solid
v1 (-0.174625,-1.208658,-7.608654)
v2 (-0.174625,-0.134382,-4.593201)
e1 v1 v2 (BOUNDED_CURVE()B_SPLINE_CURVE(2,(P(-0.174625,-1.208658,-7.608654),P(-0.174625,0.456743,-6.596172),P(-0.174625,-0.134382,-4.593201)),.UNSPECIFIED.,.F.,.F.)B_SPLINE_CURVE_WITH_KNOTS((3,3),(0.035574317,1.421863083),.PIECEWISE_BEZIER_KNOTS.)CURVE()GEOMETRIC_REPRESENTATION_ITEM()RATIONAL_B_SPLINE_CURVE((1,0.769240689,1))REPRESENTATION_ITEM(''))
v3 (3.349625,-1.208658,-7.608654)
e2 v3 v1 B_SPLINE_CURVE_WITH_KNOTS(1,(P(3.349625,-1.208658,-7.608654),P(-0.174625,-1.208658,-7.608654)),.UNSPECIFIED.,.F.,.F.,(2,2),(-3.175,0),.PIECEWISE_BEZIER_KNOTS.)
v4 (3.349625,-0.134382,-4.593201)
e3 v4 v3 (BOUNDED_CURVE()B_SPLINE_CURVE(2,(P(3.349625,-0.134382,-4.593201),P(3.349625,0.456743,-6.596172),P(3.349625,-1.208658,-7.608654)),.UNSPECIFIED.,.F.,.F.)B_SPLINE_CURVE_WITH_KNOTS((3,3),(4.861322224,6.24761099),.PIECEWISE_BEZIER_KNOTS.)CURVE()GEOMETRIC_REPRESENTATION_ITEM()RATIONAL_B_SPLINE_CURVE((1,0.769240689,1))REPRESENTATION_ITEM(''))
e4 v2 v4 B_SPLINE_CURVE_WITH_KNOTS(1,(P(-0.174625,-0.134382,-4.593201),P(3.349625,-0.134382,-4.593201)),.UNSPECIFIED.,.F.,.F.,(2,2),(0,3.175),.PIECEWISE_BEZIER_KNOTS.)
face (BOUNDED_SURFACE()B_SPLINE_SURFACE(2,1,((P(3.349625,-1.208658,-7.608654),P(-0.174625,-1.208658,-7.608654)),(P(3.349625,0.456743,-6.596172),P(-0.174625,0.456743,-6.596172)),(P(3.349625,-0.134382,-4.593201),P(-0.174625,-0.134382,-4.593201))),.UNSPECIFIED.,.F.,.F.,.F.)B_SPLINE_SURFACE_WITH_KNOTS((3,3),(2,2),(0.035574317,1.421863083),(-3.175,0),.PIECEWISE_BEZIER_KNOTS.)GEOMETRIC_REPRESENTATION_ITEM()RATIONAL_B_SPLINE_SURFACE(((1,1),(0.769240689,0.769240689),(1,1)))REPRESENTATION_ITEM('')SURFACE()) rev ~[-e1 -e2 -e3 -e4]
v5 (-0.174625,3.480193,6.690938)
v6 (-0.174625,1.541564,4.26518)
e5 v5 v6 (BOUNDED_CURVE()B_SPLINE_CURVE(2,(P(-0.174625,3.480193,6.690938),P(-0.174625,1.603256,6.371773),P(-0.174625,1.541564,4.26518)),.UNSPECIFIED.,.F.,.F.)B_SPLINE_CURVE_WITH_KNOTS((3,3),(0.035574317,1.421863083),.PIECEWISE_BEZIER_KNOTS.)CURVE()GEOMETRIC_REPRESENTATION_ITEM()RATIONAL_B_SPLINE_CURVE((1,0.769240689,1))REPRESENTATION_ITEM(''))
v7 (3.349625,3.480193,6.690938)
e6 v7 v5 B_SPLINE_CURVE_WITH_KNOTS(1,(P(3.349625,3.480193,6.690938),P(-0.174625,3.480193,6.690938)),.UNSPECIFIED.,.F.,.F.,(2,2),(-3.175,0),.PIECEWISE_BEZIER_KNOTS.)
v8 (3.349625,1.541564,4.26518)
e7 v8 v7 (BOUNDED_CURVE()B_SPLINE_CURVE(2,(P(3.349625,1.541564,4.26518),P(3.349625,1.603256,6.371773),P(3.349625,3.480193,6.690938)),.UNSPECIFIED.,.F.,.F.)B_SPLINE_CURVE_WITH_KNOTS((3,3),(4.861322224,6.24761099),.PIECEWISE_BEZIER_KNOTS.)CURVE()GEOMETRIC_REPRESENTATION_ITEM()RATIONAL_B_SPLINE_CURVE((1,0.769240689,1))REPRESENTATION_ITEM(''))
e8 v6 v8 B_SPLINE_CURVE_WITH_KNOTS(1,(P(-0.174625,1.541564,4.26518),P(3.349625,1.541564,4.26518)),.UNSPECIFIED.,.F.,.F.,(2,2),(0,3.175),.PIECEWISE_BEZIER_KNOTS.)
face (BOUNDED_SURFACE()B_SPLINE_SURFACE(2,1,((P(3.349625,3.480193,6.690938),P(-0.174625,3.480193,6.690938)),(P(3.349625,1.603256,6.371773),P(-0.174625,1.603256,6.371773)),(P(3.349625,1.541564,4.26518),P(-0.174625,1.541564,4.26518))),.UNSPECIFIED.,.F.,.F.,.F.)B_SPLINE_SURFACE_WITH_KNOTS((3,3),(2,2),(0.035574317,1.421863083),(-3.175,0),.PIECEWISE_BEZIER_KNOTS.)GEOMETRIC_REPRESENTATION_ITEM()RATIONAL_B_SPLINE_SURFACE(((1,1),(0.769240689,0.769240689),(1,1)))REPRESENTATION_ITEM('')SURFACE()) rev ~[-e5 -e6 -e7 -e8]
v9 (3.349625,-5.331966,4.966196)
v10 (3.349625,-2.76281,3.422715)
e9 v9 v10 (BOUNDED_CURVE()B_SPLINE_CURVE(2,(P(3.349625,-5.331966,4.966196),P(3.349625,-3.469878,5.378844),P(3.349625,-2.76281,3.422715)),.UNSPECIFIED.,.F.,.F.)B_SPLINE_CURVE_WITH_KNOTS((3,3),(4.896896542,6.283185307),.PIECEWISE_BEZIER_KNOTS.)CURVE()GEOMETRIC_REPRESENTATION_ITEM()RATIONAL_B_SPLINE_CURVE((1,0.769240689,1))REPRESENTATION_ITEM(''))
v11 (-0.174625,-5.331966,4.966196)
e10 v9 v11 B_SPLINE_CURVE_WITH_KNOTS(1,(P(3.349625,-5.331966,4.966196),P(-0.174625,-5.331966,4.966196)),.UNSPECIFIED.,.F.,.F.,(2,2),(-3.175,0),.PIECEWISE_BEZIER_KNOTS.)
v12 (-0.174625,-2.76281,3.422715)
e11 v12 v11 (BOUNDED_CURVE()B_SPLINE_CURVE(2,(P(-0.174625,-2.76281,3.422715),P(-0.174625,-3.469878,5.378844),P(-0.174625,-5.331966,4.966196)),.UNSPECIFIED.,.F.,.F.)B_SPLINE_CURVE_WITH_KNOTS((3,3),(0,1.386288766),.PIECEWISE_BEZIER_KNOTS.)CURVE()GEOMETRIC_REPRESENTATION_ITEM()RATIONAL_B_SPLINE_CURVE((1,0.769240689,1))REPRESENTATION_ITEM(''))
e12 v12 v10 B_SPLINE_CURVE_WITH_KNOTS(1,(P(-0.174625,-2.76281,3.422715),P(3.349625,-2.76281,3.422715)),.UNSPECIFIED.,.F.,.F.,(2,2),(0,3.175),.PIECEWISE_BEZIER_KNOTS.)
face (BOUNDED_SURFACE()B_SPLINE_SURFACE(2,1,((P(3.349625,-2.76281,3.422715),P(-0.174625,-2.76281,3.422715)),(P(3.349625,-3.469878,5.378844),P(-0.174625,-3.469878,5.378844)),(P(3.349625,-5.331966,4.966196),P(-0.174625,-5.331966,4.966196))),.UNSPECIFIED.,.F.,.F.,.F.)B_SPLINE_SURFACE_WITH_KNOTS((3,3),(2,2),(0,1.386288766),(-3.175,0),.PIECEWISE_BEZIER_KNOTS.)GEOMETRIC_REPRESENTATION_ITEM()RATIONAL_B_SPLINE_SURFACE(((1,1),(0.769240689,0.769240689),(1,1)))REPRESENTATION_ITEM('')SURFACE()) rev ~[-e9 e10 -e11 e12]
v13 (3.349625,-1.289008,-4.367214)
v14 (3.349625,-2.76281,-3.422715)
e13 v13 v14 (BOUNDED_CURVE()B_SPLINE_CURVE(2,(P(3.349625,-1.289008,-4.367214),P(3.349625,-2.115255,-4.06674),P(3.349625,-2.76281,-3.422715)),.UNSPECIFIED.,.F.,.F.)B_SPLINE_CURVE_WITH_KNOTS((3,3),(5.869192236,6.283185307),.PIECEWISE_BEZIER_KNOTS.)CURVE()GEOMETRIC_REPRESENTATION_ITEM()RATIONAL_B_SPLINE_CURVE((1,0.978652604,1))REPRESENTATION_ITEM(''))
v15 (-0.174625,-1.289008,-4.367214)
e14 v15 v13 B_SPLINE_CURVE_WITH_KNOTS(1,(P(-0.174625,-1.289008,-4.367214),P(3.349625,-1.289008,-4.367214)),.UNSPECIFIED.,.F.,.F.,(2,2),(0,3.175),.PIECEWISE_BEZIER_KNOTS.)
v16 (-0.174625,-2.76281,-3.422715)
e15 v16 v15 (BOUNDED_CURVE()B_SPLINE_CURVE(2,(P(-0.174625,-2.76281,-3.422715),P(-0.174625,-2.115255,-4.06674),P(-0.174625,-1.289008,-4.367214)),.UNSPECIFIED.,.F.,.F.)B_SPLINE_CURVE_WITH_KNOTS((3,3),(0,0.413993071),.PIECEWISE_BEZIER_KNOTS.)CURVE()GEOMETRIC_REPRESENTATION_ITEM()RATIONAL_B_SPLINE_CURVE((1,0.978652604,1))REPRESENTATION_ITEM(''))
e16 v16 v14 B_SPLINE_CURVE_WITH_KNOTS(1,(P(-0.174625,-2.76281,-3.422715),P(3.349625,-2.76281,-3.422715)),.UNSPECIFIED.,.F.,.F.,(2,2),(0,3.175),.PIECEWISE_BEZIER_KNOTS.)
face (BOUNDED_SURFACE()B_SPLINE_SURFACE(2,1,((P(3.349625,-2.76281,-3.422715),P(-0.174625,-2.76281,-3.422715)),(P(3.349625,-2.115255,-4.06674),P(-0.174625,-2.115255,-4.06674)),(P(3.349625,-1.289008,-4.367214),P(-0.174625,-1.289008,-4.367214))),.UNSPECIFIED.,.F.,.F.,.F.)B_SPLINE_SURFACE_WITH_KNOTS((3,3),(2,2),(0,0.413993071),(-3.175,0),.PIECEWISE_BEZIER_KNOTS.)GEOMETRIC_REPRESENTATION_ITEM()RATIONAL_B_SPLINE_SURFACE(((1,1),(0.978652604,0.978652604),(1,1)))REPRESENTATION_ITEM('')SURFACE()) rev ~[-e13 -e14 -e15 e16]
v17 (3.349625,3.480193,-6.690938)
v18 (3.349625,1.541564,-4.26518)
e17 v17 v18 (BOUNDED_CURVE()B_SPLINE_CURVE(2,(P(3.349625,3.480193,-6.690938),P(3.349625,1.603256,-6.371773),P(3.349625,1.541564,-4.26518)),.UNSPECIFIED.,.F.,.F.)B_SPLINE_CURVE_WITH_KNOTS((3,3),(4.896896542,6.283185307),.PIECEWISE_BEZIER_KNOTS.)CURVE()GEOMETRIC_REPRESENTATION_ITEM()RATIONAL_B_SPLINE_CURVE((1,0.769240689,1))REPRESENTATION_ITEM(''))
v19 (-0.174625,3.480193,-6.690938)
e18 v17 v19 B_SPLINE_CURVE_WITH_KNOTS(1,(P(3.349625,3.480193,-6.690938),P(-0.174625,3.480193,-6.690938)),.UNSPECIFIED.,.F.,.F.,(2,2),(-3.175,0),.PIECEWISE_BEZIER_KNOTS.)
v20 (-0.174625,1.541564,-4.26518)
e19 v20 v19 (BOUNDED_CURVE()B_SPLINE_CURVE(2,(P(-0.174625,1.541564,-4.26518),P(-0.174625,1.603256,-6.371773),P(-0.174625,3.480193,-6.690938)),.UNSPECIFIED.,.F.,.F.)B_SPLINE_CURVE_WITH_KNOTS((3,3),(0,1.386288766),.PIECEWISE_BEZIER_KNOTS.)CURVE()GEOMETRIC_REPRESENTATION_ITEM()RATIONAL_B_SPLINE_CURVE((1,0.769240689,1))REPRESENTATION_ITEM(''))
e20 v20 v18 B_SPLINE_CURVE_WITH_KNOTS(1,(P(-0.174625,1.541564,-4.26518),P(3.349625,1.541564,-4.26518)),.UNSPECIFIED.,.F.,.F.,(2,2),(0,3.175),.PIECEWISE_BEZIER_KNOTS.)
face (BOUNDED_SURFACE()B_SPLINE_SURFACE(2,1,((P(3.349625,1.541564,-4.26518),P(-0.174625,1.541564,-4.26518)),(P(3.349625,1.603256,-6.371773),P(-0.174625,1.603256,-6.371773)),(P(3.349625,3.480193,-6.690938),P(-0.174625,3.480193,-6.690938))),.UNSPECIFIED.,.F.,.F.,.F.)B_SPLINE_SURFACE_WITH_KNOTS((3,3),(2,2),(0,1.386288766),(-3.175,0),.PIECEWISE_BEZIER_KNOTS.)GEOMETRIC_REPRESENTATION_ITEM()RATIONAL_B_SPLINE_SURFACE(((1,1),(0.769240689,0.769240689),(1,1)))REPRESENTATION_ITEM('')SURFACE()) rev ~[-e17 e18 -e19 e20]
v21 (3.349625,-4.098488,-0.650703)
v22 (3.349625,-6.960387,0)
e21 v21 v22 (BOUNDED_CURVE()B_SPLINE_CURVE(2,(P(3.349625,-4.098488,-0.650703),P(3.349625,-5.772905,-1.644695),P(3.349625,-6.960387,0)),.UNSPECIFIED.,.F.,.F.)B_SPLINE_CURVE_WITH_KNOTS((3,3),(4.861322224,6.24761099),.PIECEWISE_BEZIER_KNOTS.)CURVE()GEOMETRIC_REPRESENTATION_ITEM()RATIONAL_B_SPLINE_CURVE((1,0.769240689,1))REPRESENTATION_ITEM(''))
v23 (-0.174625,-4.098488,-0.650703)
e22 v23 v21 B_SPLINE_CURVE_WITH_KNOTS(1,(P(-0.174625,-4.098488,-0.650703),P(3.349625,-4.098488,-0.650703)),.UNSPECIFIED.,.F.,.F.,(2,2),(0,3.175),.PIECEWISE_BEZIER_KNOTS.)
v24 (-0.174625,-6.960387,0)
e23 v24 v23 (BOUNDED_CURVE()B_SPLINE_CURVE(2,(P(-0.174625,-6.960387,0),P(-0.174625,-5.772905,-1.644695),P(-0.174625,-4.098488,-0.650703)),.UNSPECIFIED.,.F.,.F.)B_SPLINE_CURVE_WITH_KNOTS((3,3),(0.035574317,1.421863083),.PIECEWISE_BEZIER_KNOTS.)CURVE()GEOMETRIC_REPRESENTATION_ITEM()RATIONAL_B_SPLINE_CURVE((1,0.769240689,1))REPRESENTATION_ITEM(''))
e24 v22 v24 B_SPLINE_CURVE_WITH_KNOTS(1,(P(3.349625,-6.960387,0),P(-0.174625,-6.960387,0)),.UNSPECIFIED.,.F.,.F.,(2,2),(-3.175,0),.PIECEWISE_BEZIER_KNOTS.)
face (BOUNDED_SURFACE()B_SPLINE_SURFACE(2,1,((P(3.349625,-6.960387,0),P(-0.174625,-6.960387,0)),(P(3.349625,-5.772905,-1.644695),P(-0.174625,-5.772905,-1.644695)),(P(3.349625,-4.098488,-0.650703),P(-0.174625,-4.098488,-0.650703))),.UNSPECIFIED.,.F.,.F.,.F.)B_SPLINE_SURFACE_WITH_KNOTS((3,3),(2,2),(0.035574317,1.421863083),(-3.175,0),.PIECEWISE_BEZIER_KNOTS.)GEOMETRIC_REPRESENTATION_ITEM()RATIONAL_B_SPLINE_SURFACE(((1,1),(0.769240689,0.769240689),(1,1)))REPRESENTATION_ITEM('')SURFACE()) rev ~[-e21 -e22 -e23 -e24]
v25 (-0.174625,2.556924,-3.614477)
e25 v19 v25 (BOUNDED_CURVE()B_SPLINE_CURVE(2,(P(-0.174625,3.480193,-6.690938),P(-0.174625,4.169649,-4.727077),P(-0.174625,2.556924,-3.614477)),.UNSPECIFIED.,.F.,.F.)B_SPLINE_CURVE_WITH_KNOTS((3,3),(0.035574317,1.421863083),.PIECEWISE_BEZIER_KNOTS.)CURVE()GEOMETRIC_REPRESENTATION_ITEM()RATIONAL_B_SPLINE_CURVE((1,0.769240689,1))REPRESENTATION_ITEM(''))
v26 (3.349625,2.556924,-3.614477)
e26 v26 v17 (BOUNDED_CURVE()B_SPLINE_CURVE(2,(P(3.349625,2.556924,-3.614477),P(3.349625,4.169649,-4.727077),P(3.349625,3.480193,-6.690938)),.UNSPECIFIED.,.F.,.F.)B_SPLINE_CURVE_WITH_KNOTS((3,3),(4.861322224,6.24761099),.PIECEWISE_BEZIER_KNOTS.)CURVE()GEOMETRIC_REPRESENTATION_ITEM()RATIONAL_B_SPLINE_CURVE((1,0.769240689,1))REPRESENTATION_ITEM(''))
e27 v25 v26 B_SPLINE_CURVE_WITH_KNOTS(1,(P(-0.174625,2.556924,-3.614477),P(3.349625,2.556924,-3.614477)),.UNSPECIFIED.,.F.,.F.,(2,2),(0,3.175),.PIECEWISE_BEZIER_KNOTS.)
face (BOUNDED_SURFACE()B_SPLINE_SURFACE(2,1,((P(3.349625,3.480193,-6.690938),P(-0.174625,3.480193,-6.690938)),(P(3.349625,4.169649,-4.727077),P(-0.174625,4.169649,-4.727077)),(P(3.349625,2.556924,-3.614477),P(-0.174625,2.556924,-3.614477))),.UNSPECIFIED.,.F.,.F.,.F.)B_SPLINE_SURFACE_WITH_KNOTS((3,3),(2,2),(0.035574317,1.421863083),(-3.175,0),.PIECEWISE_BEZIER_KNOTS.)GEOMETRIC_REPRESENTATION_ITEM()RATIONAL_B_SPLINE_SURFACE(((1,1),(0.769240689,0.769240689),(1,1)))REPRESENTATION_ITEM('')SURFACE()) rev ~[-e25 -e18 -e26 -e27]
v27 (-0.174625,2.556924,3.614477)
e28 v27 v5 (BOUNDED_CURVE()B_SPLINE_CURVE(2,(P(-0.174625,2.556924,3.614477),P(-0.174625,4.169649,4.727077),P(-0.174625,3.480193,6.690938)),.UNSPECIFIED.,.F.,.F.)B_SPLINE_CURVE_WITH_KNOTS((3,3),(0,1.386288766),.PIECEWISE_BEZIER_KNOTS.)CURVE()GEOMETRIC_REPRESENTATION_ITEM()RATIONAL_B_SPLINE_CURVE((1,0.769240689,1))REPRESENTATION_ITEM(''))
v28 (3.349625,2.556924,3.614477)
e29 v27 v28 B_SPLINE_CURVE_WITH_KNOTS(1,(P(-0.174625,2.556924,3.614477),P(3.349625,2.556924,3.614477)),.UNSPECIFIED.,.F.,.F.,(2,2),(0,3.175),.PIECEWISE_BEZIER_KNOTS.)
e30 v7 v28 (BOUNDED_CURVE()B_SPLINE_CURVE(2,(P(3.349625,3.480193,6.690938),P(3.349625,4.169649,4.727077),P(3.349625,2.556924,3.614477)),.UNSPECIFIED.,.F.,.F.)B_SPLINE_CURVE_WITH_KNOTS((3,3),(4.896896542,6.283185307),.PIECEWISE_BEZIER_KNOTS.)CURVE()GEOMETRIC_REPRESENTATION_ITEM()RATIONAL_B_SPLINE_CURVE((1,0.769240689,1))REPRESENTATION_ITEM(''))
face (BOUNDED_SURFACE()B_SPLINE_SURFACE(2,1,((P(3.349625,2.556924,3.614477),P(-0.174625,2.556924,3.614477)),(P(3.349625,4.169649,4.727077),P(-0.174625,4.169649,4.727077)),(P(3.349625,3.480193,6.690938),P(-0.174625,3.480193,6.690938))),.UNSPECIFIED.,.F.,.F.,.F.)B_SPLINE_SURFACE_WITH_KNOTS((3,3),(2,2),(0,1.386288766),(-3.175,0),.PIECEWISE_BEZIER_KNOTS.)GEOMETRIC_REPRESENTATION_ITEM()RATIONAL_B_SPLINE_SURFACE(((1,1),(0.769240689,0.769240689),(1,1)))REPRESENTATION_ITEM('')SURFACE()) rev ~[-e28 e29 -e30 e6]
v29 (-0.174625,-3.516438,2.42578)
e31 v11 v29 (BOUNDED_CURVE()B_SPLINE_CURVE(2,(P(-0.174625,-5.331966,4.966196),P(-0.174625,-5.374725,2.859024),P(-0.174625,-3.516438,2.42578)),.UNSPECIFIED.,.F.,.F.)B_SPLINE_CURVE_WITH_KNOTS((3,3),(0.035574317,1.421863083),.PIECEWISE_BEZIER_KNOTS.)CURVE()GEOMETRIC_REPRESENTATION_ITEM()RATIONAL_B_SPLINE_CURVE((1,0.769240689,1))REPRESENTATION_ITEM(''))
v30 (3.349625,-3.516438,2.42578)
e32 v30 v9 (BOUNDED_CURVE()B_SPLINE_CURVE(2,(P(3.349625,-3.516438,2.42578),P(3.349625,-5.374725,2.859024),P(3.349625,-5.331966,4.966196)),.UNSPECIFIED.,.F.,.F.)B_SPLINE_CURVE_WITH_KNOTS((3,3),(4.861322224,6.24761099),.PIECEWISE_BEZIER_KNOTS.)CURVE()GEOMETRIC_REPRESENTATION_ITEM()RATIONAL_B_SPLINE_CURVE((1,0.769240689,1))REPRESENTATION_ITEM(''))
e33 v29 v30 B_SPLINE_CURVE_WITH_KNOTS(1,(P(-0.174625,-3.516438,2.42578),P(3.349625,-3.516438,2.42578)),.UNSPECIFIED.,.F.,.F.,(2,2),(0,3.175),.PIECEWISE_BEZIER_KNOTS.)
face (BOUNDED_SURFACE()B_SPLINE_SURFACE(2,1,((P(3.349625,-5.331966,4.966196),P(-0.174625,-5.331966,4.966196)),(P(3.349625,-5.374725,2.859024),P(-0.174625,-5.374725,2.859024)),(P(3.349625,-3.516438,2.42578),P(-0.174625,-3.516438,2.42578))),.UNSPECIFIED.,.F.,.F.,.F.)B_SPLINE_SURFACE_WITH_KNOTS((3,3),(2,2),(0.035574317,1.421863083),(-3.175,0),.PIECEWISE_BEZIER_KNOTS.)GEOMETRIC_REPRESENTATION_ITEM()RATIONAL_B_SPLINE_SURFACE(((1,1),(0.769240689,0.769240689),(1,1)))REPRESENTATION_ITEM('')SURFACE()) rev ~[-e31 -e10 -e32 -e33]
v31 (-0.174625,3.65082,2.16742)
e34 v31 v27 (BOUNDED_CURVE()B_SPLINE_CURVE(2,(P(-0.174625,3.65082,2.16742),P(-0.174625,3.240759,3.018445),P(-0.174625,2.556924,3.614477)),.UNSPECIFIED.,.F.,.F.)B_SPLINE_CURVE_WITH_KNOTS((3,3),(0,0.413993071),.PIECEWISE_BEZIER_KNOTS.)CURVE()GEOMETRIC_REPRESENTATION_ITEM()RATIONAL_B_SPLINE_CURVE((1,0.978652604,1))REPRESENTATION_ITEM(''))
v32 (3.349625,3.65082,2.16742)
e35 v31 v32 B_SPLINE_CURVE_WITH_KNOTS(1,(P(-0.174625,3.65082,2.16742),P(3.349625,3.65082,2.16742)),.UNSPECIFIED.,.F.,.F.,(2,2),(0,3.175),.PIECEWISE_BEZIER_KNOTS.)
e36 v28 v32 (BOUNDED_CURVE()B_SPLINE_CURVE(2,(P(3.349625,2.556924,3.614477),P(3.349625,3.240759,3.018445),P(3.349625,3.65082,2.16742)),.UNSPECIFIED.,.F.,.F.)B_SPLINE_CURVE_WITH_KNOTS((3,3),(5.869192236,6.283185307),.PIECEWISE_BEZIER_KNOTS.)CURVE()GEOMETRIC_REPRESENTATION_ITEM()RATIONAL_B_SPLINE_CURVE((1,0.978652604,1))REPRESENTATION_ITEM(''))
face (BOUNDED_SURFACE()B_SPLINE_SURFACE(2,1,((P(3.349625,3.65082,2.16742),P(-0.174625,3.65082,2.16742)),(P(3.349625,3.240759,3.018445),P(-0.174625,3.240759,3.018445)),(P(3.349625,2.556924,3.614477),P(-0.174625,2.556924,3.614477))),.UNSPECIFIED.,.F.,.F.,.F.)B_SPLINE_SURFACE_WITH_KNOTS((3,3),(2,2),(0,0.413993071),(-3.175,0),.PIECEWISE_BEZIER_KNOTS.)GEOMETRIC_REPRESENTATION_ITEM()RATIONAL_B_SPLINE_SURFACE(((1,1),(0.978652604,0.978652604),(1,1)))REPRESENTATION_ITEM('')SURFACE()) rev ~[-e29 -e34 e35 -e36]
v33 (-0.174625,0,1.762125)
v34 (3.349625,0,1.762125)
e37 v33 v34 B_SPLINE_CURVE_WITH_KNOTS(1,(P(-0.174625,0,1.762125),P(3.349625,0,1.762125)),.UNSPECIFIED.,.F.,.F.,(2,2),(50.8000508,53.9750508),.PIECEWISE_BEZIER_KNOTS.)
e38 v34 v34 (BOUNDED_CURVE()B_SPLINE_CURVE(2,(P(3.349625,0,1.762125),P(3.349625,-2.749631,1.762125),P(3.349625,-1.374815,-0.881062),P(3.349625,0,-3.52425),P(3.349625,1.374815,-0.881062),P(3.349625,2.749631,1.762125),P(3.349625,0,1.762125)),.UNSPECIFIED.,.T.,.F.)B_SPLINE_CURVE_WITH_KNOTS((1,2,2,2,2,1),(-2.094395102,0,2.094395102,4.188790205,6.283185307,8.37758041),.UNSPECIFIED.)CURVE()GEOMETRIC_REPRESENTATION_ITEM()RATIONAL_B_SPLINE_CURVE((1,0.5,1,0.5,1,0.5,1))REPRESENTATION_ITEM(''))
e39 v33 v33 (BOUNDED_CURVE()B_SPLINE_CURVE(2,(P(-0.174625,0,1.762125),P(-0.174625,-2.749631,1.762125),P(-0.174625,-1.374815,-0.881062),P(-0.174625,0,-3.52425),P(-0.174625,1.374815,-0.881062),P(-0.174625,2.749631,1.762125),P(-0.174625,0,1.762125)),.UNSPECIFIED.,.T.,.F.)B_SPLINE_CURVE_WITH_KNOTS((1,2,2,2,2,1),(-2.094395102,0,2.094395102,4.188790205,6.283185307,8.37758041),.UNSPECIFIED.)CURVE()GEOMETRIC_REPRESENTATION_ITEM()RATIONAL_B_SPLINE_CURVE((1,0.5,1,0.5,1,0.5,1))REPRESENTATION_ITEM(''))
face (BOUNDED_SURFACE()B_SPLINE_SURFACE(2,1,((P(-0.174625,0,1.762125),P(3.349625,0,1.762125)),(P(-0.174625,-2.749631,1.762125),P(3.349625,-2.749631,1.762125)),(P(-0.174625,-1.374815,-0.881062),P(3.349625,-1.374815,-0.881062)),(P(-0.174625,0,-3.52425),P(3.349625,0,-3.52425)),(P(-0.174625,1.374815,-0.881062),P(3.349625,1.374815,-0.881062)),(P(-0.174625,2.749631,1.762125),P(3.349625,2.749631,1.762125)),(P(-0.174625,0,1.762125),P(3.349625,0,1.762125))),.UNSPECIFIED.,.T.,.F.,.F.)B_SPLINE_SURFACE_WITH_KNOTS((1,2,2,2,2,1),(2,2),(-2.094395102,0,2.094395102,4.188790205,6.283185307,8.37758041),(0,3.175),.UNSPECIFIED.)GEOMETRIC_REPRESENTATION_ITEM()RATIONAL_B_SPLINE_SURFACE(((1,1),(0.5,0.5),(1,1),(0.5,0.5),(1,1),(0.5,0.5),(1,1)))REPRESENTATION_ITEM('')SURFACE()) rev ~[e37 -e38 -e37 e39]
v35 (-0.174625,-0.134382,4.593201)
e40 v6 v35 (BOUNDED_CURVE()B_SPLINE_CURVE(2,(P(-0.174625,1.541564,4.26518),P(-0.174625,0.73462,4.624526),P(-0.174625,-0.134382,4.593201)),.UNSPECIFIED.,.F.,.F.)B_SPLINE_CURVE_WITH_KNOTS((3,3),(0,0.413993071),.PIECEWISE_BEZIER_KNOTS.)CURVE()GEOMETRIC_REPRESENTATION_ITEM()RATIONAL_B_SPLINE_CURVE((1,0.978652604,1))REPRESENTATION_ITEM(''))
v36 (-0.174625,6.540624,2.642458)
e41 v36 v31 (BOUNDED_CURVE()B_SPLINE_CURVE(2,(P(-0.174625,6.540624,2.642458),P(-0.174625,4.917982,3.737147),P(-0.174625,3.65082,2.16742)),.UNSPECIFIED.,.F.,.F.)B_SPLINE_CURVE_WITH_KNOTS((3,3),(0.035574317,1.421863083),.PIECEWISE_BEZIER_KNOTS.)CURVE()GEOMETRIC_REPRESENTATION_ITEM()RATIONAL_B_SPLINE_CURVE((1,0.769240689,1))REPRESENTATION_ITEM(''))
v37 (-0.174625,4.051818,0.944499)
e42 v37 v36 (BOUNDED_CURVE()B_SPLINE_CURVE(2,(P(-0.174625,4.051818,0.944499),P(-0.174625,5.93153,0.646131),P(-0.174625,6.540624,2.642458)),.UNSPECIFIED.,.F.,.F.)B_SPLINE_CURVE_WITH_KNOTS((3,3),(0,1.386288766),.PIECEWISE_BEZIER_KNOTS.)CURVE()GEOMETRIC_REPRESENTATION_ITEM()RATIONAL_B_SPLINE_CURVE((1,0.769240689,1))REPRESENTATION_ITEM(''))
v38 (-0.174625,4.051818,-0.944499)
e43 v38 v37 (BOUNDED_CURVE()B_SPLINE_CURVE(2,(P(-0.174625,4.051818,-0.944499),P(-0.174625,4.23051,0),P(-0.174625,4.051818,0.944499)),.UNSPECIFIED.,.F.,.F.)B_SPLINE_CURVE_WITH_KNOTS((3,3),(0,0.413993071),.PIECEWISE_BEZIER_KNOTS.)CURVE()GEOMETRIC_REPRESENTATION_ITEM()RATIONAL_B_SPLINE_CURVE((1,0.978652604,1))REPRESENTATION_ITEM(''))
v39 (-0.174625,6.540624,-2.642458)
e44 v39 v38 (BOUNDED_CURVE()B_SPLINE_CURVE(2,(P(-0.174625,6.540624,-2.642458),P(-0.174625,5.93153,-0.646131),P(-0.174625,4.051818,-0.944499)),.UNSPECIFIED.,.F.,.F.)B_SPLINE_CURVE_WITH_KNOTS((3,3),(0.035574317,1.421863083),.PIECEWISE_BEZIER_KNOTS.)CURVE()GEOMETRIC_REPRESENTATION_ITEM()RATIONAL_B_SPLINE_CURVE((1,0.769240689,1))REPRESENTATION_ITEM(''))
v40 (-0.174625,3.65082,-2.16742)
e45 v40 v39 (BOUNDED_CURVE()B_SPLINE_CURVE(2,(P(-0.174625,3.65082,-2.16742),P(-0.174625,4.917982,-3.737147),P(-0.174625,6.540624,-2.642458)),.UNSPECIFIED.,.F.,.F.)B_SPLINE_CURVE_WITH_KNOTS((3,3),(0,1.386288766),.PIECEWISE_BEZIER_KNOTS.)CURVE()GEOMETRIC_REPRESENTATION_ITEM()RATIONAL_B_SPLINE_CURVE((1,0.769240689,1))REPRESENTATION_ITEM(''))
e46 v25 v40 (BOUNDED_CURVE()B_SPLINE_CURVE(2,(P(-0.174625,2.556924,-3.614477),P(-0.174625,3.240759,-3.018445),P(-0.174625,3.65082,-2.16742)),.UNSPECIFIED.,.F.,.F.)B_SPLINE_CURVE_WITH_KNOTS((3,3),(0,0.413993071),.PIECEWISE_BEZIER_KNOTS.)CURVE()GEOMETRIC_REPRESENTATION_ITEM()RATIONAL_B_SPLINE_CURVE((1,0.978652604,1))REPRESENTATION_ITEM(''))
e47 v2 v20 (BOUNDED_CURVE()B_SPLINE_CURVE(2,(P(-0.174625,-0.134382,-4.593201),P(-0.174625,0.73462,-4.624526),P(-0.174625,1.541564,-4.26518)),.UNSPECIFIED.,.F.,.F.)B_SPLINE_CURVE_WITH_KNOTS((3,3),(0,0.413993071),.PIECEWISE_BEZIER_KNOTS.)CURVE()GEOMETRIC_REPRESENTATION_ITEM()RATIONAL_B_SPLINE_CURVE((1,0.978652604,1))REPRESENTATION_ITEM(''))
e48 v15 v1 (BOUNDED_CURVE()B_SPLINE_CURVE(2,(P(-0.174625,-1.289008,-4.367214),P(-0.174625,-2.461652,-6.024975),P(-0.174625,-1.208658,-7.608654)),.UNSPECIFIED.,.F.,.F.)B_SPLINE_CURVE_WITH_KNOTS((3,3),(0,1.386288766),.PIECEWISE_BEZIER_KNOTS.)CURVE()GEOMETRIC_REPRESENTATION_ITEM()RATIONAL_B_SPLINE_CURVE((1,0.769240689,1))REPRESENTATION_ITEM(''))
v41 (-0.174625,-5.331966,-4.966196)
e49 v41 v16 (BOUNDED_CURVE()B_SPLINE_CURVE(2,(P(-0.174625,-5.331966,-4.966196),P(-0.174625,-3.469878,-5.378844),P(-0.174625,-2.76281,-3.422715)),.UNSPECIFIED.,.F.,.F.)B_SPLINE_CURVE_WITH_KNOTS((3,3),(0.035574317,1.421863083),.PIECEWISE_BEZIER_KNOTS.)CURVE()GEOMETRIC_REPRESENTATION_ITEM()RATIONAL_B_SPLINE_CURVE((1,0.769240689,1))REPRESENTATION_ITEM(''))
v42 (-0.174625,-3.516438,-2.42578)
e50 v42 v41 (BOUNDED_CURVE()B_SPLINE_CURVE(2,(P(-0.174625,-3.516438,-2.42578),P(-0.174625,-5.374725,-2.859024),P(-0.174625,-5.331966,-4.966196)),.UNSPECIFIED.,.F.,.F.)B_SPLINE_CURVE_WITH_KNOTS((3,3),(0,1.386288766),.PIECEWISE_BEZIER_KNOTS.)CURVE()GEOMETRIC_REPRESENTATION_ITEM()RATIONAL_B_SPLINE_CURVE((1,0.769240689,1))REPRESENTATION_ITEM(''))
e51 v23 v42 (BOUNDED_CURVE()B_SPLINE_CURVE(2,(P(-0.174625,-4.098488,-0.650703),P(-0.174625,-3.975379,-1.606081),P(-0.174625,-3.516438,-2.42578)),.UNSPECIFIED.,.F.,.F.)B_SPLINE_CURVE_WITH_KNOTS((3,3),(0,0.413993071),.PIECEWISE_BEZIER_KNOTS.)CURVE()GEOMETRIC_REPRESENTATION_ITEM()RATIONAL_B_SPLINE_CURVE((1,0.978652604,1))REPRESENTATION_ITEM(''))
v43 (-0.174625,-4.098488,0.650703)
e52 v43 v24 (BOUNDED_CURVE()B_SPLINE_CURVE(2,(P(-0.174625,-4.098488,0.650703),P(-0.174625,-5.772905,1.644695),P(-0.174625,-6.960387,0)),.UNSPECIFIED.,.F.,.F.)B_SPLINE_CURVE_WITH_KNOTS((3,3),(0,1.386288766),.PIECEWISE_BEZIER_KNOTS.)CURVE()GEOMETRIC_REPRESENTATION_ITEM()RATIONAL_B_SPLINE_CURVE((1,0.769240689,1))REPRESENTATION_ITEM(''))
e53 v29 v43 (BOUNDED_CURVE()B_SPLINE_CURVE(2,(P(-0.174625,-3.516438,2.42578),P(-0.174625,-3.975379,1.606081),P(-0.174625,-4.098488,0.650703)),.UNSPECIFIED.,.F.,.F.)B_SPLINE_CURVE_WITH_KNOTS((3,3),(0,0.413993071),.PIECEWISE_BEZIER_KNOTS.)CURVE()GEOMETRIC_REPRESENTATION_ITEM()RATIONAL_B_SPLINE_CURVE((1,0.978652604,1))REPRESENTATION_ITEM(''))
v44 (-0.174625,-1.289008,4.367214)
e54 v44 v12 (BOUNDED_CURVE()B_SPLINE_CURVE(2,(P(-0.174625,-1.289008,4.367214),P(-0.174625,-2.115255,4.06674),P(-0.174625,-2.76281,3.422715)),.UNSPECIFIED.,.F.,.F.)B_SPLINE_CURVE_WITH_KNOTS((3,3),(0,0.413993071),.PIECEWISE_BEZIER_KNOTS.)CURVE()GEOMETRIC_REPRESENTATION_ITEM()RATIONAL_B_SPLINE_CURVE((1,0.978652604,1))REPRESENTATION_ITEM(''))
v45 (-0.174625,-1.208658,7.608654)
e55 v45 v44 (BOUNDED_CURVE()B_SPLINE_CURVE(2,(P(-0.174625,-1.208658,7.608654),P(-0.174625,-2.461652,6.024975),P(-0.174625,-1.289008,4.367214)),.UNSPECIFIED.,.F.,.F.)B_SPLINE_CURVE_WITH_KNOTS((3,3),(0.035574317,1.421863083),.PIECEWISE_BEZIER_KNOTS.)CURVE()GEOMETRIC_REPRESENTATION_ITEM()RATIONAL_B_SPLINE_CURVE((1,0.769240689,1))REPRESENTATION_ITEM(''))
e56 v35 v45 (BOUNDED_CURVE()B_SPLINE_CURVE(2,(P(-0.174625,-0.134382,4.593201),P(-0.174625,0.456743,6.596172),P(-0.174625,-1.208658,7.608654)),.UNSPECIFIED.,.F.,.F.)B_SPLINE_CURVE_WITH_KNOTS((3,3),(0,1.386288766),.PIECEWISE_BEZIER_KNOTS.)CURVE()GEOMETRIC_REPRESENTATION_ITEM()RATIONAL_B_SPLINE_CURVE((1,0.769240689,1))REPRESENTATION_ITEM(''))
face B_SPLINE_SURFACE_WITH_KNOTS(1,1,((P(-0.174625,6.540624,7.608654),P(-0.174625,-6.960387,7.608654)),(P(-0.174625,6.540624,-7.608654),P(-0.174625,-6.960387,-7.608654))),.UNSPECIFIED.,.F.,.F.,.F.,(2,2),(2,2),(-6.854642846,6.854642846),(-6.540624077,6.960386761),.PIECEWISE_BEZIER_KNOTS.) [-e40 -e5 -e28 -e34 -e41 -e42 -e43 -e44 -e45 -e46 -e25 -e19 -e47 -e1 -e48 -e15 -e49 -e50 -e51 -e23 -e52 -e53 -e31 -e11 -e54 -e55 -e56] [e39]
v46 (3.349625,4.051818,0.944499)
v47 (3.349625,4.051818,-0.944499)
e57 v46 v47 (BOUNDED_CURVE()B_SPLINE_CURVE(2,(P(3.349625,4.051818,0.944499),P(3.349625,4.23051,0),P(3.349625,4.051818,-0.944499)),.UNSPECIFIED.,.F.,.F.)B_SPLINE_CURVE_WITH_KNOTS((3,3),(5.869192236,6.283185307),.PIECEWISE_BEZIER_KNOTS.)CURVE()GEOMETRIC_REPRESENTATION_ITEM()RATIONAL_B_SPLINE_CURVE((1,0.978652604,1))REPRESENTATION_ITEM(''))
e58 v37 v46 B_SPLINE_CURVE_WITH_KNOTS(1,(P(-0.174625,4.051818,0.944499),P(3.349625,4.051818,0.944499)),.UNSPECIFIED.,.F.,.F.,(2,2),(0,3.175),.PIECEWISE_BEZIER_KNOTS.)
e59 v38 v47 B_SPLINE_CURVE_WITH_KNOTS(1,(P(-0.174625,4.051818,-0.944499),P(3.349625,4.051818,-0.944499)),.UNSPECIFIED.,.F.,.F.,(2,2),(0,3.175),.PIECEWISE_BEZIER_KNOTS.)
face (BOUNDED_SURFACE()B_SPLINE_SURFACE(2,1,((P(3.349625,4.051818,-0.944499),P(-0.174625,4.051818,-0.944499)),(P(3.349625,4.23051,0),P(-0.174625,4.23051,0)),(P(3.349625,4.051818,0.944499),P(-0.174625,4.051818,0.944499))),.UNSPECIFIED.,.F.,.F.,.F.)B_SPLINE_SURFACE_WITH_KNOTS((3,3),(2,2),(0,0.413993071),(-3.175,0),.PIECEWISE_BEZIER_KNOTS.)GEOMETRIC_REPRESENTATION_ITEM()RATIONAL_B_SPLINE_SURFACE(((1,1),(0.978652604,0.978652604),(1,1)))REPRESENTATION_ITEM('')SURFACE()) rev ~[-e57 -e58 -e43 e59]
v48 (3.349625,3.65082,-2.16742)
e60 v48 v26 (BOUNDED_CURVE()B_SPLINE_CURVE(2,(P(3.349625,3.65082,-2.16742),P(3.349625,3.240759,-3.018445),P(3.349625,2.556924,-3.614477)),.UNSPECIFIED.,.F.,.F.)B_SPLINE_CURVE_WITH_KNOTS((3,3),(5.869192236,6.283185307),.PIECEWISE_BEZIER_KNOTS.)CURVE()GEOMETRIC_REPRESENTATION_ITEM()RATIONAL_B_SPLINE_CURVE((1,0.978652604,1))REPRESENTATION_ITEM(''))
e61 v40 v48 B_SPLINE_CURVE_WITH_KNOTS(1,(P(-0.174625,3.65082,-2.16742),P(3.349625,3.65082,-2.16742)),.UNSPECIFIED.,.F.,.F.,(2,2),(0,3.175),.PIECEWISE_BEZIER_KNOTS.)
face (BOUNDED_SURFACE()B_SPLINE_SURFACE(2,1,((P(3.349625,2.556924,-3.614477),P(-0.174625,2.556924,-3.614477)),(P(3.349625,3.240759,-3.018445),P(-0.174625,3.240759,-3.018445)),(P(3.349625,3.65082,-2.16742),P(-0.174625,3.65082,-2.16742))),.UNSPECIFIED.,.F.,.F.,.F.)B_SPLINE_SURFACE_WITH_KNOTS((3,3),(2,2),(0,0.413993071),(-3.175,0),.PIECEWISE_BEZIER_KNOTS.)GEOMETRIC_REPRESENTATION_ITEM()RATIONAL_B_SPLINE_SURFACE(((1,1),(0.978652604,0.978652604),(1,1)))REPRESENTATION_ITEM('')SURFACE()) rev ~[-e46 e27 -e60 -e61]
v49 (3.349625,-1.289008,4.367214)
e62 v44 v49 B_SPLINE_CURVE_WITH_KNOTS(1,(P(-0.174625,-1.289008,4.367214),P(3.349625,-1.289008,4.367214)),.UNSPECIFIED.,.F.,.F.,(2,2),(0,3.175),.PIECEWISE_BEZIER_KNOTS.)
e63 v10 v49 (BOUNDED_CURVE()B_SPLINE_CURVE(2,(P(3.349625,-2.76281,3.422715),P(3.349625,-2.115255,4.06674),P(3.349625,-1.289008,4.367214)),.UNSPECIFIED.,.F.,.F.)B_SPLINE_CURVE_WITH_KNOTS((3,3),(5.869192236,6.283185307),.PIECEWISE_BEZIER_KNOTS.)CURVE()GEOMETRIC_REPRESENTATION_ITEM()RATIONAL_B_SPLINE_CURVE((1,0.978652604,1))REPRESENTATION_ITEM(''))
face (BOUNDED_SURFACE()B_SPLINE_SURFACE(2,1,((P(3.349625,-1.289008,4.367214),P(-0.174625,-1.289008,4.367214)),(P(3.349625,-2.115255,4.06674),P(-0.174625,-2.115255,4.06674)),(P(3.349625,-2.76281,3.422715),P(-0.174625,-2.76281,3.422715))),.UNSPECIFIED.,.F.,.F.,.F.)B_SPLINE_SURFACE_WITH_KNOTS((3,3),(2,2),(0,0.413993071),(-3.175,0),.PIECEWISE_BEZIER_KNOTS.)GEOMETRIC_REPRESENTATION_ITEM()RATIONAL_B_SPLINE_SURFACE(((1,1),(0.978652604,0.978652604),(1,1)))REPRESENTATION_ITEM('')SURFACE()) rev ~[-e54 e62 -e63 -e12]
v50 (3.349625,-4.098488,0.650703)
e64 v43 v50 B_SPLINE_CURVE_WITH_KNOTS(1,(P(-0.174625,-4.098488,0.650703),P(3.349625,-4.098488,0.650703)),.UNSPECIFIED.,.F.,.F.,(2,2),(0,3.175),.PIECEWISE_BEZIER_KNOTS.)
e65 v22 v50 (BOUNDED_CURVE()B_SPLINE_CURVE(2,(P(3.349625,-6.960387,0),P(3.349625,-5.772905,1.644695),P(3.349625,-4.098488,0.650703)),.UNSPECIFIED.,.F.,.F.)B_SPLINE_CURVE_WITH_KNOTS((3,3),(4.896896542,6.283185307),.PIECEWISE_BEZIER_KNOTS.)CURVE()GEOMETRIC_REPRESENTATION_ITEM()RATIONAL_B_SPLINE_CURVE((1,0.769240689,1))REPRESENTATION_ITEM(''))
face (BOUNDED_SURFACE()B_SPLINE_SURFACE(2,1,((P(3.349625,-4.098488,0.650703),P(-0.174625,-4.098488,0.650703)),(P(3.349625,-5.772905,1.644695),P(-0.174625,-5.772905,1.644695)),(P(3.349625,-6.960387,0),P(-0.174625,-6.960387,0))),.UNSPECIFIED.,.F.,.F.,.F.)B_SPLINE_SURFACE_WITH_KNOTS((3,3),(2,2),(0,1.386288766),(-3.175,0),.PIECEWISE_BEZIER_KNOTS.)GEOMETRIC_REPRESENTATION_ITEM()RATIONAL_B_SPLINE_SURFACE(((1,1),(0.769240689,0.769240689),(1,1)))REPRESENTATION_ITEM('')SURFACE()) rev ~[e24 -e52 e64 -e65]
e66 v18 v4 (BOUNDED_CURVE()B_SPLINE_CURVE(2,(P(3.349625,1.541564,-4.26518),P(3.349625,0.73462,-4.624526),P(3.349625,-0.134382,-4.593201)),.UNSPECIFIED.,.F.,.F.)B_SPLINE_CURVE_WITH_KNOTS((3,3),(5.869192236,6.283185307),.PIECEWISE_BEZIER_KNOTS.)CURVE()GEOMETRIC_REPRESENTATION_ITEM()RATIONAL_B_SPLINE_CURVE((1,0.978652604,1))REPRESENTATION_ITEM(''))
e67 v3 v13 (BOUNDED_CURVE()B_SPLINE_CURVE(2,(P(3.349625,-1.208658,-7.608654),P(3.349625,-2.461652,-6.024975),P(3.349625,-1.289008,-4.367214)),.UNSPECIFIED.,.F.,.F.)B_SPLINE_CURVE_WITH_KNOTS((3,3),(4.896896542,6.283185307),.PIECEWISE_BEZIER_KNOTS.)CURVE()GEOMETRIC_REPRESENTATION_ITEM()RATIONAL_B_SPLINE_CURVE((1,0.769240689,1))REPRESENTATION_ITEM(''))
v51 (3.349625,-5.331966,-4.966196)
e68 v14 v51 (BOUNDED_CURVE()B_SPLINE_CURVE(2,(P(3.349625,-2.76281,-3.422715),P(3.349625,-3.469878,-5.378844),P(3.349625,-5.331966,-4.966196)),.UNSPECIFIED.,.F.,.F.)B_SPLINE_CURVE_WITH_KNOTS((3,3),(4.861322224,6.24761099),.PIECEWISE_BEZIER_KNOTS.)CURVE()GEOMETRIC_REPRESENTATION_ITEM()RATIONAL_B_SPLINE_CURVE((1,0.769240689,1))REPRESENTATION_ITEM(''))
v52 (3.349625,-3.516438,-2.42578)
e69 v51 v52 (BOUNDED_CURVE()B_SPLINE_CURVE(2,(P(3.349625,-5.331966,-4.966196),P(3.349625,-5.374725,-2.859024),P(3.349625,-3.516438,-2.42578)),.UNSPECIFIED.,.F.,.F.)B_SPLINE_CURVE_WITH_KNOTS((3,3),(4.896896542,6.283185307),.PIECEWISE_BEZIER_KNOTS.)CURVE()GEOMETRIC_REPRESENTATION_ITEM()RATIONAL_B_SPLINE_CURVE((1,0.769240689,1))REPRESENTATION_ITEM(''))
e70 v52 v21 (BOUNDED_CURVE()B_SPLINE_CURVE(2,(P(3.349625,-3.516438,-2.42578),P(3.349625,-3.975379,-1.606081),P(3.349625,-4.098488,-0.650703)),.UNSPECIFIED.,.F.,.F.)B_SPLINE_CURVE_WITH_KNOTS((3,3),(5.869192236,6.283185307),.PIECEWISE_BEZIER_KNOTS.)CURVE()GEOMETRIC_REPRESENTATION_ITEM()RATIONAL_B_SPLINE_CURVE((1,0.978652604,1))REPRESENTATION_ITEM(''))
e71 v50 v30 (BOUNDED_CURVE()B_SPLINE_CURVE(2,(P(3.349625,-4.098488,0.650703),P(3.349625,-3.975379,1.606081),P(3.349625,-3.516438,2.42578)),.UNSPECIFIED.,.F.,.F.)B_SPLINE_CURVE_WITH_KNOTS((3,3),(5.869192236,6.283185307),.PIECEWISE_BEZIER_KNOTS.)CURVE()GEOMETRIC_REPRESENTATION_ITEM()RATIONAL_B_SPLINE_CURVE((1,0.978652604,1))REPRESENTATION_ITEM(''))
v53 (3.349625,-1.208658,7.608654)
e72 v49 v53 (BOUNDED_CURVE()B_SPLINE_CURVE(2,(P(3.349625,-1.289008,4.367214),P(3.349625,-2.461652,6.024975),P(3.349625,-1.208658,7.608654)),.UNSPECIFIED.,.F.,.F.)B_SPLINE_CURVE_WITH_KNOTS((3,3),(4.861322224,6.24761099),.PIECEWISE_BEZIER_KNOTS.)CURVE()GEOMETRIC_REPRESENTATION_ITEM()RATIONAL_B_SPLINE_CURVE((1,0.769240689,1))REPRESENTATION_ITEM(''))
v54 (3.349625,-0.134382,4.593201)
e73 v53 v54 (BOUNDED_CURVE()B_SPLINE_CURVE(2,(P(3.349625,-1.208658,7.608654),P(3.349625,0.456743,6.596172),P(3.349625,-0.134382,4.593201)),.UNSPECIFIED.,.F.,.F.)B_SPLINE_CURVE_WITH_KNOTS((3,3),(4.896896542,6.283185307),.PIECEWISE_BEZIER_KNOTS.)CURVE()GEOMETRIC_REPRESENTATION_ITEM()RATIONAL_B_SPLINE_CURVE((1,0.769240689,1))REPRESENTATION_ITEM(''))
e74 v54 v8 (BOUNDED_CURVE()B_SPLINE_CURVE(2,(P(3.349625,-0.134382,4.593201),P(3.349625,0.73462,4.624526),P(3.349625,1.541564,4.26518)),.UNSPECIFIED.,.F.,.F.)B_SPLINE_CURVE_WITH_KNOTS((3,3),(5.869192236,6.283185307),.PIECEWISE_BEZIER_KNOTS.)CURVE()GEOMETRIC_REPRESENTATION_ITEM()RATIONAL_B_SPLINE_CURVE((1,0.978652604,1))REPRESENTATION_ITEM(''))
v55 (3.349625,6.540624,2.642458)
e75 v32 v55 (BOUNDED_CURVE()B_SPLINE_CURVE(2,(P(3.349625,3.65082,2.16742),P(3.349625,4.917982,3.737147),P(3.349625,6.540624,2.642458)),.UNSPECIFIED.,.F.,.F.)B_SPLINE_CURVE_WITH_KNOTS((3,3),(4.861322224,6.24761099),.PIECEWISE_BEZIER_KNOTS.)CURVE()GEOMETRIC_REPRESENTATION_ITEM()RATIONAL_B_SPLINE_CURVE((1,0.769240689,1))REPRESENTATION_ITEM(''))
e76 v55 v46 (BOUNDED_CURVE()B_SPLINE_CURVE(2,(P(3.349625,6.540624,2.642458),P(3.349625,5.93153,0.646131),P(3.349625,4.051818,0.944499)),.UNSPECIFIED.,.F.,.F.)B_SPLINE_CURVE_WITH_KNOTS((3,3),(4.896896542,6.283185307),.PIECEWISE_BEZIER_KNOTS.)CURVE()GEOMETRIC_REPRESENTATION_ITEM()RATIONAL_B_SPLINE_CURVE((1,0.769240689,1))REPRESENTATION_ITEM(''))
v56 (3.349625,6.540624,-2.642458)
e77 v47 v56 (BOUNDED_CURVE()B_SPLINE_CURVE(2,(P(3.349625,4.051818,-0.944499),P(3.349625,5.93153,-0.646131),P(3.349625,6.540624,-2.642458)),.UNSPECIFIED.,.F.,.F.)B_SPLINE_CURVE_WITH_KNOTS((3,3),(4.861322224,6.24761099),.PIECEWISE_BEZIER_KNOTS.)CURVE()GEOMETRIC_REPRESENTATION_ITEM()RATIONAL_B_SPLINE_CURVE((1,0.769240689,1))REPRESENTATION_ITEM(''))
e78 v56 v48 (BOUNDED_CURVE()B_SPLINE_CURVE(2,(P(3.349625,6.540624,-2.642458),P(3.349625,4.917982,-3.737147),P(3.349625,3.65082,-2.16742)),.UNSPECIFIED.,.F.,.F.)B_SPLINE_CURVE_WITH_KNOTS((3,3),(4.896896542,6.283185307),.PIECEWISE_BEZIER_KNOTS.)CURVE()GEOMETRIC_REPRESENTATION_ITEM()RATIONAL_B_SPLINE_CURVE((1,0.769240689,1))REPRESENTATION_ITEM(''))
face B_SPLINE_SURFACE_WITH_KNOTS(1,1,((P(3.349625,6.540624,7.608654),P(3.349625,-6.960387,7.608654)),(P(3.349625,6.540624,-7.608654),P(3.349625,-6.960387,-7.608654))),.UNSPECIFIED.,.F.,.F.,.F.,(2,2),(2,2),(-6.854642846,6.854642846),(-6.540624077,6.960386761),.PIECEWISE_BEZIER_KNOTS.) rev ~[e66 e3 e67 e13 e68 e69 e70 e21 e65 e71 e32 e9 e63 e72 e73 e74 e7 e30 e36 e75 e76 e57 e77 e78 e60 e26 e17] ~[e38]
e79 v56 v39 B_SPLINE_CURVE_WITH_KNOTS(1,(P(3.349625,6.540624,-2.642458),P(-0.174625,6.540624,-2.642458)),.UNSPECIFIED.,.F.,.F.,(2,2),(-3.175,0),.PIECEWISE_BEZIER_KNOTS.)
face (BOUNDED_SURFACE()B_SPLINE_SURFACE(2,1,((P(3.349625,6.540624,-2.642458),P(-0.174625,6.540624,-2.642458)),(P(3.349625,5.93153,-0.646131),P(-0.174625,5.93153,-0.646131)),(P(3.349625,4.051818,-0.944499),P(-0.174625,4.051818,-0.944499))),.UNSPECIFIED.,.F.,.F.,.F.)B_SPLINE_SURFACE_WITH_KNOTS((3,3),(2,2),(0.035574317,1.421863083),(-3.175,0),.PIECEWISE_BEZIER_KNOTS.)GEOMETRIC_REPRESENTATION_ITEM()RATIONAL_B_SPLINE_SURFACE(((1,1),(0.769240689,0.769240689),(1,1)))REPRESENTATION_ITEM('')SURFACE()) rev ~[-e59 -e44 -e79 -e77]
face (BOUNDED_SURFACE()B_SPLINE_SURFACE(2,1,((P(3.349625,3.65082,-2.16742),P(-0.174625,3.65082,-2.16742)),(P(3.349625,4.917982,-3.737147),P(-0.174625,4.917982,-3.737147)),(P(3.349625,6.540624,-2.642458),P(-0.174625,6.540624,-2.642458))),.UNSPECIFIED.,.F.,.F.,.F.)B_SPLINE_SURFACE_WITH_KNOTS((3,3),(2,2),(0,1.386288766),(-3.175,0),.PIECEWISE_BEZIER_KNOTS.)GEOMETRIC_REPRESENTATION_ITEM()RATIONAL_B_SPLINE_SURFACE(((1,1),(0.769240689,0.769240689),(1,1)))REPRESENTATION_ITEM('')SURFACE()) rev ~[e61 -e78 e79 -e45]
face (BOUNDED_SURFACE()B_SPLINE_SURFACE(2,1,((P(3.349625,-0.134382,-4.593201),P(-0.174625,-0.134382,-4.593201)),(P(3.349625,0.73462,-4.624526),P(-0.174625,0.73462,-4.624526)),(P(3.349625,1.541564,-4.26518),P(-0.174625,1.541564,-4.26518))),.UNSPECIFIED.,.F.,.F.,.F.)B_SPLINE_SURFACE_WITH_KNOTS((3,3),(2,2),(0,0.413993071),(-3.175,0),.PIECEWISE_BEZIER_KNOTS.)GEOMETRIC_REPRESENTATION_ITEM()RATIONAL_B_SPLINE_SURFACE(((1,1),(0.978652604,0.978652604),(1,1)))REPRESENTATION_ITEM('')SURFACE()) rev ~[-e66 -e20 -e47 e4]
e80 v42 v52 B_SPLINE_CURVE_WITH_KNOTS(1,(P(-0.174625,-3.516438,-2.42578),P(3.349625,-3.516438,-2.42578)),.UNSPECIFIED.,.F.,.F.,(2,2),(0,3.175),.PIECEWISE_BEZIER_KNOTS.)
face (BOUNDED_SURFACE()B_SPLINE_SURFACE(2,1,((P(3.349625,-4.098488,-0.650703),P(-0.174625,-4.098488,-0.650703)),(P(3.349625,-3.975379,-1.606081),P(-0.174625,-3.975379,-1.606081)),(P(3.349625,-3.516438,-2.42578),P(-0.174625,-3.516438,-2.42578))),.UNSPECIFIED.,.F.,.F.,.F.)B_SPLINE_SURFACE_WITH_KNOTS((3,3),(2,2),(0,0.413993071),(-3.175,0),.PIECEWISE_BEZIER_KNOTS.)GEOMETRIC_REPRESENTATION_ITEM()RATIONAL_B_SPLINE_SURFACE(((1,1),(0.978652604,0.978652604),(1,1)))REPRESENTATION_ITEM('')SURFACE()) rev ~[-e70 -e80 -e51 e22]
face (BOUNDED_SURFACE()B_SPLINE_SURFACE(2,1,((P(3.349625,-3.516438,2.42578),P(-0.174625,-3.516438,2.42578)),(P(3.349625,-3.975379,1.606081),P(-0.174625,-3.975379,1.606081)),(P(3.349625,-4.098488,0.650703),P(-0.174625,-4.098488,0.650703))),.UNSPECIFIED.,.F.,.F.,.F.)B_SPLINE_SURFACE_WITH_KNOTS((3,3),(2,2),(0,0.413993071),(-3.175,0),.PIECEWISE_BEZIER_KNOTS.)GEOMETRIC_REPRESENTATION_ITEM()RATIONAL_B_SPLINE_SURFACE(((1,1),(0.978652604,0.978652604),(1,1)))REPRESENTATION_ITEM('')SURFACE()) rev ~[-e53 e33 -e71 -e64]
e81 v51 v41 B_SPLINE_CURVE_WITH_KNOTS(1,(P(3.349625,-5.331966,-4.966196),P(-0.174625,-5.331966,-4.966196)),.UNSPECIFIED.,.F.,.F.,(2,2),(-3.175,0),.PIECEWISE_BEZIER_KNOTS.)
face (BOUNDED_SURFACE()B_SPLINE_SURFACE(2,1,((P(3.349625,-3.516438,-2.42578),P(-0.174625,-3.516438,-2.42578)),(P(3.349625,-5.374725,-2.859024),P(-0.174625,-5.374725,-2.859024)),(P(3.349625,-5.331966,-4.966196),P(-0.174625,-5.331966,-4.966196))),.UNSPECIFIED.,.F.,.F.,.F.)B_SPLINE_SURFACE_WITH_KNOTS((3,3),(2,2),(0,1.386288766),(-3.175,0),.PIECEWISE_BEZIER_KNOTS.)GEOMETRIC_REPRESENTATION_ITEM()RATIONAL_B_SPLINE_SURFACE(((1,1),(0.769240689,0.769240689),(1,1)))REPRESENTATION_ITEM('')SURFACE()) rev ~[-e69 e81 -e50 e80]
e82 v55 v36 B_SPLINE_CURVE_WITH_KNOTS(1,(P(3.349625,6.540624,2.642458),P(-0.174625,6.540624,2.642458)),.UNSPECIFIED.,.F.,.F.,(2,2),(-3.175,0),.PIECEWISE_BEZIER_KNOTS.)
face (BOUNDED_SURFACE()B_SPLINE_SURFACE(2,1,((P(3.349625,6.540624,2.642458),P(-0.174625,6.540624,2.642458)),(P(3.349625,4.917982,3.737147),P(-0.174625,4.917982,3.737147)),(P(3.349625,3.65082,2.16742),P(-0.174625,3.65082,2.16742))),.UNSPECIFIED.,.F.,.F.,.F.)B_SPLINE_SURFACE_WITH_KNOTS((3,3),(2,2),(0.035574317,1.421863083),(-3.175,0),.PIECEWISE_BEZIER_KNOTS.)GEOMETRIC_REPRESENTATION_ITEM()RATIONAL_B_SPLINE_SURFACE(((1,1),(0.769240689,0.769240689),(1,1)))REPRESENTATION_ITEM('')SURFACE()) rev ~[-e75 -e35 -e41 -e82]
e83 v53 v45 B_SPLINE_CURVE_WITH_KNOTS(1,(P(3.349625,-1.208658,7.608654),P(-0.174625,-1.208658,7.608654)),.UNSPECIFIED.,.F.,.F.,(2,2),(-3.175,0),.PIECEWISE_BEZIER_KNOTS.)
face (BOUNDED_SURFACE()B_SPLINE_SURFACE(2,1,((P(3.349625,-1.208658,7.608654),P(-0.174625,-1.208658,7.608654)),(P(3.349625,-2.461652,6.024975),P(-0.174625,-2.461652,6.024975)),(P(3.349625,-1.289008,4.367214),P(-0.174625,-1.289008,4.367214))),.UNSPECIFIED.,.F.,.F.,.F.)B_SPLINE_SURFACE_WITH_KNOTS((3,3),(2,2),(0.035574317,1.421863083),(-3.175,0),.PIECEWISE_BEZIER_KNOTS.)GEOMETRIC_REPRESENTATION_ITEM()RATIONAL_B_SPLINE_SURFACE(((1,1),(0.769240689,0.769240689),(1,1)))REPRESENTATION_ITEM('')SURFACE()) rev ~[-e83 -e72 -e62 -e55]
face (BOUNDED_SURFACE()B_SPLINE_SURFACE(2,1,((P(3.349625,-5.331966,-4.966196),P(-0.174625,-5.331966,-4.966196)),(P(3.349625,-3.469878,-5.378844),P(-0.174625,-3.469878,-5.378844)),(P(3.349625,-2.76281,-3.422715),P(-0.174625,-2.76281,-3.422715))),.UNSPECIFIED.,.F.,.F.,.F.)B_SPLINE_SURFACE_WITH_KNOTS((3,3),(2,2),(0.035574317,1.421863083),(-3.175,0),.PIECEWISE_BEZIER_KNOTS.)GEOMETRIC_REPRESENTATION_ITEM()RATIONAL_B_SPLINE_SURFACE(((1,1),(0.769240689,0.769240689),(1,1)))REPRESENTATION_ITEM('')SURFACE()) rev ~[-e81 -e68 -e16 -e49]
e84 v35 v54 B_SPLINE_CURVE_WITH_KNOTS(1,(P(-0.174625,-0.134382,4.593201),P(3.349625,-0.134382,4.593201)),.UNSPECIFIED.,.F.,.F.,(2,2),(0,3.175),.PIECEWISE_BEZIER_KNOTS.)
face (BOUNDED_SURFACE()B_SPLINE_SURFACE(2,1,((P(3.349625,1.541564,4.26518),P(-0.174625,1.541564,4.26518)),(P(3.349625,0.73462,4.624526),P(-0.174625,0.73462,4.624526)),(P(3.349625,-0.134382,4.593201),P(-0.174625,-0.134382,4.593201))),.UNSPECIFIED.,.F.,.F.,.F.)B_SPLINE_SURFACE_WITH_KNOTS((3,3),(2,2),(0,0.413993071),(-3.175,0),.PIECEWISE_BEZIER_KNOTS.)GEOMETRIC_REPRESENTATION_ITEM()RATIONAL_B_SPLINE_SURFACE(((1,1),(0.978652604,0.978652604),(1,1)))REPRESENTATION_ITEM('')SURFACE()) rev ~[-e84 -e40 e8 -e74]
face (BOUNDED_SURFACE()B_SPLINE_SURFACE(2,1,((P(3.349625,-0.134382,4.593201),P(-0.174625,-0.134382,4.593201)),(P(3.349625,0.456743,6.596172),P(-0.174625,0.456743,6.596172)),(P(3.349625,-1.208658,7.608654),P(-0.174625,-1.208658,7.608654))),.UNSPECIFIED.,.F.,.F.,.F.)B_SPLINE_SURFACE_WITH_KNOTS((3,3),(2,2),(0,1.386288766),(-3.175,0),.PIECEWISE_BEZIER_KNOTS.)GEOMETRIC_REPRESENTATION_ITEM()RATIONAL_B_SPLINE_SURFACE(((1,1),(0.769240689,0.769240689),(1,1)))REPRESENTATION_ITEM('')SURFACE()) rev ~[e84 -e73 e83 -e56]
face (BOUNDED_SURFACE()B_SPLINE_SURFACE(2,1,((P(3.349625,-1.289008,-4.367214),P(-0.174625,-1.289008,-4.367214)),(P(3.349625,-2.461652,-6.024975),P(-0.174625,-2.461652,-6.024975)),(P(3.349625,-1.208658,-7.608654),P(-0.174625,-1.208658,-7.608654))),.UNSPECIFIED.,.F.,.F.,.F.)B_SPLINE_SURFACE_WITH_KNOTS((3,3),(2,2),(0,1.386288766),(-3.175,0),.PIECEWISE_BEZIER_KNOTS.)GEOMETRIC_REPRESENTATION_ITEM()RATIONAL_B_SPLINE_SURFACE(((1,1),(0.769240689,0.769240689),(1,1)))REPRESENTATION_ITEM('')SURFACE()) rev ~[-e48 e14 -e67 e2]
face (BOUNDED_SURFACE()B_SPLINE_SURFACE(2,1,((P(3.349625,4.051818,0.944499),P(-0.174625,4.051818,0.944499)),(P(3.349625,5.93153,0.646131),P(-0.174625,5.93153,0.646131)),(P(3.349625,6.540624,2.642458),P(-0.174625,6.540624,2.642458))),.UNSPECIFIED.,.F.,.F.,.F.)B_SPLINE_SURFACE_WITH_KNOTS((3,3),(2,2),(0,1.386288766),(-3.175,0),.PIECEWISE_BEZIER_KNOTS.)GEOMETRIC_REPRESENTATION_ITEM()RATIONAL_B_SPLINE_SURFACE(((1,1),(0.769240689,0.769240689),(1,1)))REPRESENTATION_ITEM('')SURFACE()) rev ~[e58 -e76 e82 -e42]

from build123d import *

# Parameters (mm, degrees)
BASPROSKE_W     = 3.175
BASPROSKE_H     = 6.985
TOOTHCUT_DEPTH  = 11.375985495
TEETHCUTS_COUNT = 9
BORSKE_R        = 1.5875
BORE_DEPTH      = 50.8000508
SCALE1_SCALE_X  = 1.11
SCALE1_SCALE_Y  = 1
SCALE1_SCALE_Z  = 1.11


with BuildPart() as part:
    # BasProSke → Base-Revolve (revolve)
    with BuildSketch(Plane(origin=(0, 0, 0), x_dir=(1, 0, 0), z_dir=(0, 1, 0)), mode=Mode.PRIVATE) as base_revolve_sk:
        with Locations((1.5875, 3.4925)):
            Rectangle(BASPROSKE_W, BASPROSKE_H)
    revolve(base_revolve_sk.sketch.rotate(Axis((-10, 0, 0), (1, 0, 0)), 180), axis=Axis((-10, 0, 0), (1, 0, 0)))

    # TooCutSke → ToothCut (cut, through all)
    with BuildSketch(Plane(origin=(0, 0, 0), x_dir=(0, 0, -1), z_dir=(1, 0, 0))):
        with BuildLine():
            ThreePointArc((0.85090004, 4.051817513), (0, 4.1402), (-0.85090004, 4.051817513))
            ThreePointArc((-0.85090004, 4.051817513), (-1.187930048, 5.606894235), (-2.458065659, 6.565334826))
            ThreePointArc((-2.458065659, 6.565334826), (0, 7.0104), (2.458065659, 6.565334826))
            ThreePointArc((2.458065659, 6.565334826), (1.187930048, 5.606894235), (0.85090004, 4.051817513))
        make_face()
    toothcut = extrude(amount=TOOTHCUT_DEPTH, mode=Mode.SUBTRACT)

    # TeethCuts: ToothCut ×9 about axis
    teethcuts_axis = Axis((-10, 0, 0), (1, 0, 0))
    for i in range(1, TEETHCUTS_COUNT):
        add(toothcut.rotate(teethcuts_axis, i * 360 / TEETHCUTS_COUNT), mode=Mode.SUBTRACT)

    # BorSke → Bore (cut, symmetric)
    with BuildSketch(Plane(origin=(0, 0, 0), x_dir=(0, 0, -1), z_dir=(1, 0, 0))):
        with Locations(Location((0, 0, 0), (0, 0, 180))):
            Circle(BORSKE_R)
    extrude(amount=BORE_DEPTH, both=True, mode=Mode.SUBTRACT)


with BuildPart() as part_1:
    # Scale1: scaled about (1.5875, 0, 0)
    add(part.part.scale((SCALE1_SCALE_X, SCALE1_SCALE_Y, SCALE1_SCALE_Z), about=(1.5875, 0, 0)))


solid = part_1.part
